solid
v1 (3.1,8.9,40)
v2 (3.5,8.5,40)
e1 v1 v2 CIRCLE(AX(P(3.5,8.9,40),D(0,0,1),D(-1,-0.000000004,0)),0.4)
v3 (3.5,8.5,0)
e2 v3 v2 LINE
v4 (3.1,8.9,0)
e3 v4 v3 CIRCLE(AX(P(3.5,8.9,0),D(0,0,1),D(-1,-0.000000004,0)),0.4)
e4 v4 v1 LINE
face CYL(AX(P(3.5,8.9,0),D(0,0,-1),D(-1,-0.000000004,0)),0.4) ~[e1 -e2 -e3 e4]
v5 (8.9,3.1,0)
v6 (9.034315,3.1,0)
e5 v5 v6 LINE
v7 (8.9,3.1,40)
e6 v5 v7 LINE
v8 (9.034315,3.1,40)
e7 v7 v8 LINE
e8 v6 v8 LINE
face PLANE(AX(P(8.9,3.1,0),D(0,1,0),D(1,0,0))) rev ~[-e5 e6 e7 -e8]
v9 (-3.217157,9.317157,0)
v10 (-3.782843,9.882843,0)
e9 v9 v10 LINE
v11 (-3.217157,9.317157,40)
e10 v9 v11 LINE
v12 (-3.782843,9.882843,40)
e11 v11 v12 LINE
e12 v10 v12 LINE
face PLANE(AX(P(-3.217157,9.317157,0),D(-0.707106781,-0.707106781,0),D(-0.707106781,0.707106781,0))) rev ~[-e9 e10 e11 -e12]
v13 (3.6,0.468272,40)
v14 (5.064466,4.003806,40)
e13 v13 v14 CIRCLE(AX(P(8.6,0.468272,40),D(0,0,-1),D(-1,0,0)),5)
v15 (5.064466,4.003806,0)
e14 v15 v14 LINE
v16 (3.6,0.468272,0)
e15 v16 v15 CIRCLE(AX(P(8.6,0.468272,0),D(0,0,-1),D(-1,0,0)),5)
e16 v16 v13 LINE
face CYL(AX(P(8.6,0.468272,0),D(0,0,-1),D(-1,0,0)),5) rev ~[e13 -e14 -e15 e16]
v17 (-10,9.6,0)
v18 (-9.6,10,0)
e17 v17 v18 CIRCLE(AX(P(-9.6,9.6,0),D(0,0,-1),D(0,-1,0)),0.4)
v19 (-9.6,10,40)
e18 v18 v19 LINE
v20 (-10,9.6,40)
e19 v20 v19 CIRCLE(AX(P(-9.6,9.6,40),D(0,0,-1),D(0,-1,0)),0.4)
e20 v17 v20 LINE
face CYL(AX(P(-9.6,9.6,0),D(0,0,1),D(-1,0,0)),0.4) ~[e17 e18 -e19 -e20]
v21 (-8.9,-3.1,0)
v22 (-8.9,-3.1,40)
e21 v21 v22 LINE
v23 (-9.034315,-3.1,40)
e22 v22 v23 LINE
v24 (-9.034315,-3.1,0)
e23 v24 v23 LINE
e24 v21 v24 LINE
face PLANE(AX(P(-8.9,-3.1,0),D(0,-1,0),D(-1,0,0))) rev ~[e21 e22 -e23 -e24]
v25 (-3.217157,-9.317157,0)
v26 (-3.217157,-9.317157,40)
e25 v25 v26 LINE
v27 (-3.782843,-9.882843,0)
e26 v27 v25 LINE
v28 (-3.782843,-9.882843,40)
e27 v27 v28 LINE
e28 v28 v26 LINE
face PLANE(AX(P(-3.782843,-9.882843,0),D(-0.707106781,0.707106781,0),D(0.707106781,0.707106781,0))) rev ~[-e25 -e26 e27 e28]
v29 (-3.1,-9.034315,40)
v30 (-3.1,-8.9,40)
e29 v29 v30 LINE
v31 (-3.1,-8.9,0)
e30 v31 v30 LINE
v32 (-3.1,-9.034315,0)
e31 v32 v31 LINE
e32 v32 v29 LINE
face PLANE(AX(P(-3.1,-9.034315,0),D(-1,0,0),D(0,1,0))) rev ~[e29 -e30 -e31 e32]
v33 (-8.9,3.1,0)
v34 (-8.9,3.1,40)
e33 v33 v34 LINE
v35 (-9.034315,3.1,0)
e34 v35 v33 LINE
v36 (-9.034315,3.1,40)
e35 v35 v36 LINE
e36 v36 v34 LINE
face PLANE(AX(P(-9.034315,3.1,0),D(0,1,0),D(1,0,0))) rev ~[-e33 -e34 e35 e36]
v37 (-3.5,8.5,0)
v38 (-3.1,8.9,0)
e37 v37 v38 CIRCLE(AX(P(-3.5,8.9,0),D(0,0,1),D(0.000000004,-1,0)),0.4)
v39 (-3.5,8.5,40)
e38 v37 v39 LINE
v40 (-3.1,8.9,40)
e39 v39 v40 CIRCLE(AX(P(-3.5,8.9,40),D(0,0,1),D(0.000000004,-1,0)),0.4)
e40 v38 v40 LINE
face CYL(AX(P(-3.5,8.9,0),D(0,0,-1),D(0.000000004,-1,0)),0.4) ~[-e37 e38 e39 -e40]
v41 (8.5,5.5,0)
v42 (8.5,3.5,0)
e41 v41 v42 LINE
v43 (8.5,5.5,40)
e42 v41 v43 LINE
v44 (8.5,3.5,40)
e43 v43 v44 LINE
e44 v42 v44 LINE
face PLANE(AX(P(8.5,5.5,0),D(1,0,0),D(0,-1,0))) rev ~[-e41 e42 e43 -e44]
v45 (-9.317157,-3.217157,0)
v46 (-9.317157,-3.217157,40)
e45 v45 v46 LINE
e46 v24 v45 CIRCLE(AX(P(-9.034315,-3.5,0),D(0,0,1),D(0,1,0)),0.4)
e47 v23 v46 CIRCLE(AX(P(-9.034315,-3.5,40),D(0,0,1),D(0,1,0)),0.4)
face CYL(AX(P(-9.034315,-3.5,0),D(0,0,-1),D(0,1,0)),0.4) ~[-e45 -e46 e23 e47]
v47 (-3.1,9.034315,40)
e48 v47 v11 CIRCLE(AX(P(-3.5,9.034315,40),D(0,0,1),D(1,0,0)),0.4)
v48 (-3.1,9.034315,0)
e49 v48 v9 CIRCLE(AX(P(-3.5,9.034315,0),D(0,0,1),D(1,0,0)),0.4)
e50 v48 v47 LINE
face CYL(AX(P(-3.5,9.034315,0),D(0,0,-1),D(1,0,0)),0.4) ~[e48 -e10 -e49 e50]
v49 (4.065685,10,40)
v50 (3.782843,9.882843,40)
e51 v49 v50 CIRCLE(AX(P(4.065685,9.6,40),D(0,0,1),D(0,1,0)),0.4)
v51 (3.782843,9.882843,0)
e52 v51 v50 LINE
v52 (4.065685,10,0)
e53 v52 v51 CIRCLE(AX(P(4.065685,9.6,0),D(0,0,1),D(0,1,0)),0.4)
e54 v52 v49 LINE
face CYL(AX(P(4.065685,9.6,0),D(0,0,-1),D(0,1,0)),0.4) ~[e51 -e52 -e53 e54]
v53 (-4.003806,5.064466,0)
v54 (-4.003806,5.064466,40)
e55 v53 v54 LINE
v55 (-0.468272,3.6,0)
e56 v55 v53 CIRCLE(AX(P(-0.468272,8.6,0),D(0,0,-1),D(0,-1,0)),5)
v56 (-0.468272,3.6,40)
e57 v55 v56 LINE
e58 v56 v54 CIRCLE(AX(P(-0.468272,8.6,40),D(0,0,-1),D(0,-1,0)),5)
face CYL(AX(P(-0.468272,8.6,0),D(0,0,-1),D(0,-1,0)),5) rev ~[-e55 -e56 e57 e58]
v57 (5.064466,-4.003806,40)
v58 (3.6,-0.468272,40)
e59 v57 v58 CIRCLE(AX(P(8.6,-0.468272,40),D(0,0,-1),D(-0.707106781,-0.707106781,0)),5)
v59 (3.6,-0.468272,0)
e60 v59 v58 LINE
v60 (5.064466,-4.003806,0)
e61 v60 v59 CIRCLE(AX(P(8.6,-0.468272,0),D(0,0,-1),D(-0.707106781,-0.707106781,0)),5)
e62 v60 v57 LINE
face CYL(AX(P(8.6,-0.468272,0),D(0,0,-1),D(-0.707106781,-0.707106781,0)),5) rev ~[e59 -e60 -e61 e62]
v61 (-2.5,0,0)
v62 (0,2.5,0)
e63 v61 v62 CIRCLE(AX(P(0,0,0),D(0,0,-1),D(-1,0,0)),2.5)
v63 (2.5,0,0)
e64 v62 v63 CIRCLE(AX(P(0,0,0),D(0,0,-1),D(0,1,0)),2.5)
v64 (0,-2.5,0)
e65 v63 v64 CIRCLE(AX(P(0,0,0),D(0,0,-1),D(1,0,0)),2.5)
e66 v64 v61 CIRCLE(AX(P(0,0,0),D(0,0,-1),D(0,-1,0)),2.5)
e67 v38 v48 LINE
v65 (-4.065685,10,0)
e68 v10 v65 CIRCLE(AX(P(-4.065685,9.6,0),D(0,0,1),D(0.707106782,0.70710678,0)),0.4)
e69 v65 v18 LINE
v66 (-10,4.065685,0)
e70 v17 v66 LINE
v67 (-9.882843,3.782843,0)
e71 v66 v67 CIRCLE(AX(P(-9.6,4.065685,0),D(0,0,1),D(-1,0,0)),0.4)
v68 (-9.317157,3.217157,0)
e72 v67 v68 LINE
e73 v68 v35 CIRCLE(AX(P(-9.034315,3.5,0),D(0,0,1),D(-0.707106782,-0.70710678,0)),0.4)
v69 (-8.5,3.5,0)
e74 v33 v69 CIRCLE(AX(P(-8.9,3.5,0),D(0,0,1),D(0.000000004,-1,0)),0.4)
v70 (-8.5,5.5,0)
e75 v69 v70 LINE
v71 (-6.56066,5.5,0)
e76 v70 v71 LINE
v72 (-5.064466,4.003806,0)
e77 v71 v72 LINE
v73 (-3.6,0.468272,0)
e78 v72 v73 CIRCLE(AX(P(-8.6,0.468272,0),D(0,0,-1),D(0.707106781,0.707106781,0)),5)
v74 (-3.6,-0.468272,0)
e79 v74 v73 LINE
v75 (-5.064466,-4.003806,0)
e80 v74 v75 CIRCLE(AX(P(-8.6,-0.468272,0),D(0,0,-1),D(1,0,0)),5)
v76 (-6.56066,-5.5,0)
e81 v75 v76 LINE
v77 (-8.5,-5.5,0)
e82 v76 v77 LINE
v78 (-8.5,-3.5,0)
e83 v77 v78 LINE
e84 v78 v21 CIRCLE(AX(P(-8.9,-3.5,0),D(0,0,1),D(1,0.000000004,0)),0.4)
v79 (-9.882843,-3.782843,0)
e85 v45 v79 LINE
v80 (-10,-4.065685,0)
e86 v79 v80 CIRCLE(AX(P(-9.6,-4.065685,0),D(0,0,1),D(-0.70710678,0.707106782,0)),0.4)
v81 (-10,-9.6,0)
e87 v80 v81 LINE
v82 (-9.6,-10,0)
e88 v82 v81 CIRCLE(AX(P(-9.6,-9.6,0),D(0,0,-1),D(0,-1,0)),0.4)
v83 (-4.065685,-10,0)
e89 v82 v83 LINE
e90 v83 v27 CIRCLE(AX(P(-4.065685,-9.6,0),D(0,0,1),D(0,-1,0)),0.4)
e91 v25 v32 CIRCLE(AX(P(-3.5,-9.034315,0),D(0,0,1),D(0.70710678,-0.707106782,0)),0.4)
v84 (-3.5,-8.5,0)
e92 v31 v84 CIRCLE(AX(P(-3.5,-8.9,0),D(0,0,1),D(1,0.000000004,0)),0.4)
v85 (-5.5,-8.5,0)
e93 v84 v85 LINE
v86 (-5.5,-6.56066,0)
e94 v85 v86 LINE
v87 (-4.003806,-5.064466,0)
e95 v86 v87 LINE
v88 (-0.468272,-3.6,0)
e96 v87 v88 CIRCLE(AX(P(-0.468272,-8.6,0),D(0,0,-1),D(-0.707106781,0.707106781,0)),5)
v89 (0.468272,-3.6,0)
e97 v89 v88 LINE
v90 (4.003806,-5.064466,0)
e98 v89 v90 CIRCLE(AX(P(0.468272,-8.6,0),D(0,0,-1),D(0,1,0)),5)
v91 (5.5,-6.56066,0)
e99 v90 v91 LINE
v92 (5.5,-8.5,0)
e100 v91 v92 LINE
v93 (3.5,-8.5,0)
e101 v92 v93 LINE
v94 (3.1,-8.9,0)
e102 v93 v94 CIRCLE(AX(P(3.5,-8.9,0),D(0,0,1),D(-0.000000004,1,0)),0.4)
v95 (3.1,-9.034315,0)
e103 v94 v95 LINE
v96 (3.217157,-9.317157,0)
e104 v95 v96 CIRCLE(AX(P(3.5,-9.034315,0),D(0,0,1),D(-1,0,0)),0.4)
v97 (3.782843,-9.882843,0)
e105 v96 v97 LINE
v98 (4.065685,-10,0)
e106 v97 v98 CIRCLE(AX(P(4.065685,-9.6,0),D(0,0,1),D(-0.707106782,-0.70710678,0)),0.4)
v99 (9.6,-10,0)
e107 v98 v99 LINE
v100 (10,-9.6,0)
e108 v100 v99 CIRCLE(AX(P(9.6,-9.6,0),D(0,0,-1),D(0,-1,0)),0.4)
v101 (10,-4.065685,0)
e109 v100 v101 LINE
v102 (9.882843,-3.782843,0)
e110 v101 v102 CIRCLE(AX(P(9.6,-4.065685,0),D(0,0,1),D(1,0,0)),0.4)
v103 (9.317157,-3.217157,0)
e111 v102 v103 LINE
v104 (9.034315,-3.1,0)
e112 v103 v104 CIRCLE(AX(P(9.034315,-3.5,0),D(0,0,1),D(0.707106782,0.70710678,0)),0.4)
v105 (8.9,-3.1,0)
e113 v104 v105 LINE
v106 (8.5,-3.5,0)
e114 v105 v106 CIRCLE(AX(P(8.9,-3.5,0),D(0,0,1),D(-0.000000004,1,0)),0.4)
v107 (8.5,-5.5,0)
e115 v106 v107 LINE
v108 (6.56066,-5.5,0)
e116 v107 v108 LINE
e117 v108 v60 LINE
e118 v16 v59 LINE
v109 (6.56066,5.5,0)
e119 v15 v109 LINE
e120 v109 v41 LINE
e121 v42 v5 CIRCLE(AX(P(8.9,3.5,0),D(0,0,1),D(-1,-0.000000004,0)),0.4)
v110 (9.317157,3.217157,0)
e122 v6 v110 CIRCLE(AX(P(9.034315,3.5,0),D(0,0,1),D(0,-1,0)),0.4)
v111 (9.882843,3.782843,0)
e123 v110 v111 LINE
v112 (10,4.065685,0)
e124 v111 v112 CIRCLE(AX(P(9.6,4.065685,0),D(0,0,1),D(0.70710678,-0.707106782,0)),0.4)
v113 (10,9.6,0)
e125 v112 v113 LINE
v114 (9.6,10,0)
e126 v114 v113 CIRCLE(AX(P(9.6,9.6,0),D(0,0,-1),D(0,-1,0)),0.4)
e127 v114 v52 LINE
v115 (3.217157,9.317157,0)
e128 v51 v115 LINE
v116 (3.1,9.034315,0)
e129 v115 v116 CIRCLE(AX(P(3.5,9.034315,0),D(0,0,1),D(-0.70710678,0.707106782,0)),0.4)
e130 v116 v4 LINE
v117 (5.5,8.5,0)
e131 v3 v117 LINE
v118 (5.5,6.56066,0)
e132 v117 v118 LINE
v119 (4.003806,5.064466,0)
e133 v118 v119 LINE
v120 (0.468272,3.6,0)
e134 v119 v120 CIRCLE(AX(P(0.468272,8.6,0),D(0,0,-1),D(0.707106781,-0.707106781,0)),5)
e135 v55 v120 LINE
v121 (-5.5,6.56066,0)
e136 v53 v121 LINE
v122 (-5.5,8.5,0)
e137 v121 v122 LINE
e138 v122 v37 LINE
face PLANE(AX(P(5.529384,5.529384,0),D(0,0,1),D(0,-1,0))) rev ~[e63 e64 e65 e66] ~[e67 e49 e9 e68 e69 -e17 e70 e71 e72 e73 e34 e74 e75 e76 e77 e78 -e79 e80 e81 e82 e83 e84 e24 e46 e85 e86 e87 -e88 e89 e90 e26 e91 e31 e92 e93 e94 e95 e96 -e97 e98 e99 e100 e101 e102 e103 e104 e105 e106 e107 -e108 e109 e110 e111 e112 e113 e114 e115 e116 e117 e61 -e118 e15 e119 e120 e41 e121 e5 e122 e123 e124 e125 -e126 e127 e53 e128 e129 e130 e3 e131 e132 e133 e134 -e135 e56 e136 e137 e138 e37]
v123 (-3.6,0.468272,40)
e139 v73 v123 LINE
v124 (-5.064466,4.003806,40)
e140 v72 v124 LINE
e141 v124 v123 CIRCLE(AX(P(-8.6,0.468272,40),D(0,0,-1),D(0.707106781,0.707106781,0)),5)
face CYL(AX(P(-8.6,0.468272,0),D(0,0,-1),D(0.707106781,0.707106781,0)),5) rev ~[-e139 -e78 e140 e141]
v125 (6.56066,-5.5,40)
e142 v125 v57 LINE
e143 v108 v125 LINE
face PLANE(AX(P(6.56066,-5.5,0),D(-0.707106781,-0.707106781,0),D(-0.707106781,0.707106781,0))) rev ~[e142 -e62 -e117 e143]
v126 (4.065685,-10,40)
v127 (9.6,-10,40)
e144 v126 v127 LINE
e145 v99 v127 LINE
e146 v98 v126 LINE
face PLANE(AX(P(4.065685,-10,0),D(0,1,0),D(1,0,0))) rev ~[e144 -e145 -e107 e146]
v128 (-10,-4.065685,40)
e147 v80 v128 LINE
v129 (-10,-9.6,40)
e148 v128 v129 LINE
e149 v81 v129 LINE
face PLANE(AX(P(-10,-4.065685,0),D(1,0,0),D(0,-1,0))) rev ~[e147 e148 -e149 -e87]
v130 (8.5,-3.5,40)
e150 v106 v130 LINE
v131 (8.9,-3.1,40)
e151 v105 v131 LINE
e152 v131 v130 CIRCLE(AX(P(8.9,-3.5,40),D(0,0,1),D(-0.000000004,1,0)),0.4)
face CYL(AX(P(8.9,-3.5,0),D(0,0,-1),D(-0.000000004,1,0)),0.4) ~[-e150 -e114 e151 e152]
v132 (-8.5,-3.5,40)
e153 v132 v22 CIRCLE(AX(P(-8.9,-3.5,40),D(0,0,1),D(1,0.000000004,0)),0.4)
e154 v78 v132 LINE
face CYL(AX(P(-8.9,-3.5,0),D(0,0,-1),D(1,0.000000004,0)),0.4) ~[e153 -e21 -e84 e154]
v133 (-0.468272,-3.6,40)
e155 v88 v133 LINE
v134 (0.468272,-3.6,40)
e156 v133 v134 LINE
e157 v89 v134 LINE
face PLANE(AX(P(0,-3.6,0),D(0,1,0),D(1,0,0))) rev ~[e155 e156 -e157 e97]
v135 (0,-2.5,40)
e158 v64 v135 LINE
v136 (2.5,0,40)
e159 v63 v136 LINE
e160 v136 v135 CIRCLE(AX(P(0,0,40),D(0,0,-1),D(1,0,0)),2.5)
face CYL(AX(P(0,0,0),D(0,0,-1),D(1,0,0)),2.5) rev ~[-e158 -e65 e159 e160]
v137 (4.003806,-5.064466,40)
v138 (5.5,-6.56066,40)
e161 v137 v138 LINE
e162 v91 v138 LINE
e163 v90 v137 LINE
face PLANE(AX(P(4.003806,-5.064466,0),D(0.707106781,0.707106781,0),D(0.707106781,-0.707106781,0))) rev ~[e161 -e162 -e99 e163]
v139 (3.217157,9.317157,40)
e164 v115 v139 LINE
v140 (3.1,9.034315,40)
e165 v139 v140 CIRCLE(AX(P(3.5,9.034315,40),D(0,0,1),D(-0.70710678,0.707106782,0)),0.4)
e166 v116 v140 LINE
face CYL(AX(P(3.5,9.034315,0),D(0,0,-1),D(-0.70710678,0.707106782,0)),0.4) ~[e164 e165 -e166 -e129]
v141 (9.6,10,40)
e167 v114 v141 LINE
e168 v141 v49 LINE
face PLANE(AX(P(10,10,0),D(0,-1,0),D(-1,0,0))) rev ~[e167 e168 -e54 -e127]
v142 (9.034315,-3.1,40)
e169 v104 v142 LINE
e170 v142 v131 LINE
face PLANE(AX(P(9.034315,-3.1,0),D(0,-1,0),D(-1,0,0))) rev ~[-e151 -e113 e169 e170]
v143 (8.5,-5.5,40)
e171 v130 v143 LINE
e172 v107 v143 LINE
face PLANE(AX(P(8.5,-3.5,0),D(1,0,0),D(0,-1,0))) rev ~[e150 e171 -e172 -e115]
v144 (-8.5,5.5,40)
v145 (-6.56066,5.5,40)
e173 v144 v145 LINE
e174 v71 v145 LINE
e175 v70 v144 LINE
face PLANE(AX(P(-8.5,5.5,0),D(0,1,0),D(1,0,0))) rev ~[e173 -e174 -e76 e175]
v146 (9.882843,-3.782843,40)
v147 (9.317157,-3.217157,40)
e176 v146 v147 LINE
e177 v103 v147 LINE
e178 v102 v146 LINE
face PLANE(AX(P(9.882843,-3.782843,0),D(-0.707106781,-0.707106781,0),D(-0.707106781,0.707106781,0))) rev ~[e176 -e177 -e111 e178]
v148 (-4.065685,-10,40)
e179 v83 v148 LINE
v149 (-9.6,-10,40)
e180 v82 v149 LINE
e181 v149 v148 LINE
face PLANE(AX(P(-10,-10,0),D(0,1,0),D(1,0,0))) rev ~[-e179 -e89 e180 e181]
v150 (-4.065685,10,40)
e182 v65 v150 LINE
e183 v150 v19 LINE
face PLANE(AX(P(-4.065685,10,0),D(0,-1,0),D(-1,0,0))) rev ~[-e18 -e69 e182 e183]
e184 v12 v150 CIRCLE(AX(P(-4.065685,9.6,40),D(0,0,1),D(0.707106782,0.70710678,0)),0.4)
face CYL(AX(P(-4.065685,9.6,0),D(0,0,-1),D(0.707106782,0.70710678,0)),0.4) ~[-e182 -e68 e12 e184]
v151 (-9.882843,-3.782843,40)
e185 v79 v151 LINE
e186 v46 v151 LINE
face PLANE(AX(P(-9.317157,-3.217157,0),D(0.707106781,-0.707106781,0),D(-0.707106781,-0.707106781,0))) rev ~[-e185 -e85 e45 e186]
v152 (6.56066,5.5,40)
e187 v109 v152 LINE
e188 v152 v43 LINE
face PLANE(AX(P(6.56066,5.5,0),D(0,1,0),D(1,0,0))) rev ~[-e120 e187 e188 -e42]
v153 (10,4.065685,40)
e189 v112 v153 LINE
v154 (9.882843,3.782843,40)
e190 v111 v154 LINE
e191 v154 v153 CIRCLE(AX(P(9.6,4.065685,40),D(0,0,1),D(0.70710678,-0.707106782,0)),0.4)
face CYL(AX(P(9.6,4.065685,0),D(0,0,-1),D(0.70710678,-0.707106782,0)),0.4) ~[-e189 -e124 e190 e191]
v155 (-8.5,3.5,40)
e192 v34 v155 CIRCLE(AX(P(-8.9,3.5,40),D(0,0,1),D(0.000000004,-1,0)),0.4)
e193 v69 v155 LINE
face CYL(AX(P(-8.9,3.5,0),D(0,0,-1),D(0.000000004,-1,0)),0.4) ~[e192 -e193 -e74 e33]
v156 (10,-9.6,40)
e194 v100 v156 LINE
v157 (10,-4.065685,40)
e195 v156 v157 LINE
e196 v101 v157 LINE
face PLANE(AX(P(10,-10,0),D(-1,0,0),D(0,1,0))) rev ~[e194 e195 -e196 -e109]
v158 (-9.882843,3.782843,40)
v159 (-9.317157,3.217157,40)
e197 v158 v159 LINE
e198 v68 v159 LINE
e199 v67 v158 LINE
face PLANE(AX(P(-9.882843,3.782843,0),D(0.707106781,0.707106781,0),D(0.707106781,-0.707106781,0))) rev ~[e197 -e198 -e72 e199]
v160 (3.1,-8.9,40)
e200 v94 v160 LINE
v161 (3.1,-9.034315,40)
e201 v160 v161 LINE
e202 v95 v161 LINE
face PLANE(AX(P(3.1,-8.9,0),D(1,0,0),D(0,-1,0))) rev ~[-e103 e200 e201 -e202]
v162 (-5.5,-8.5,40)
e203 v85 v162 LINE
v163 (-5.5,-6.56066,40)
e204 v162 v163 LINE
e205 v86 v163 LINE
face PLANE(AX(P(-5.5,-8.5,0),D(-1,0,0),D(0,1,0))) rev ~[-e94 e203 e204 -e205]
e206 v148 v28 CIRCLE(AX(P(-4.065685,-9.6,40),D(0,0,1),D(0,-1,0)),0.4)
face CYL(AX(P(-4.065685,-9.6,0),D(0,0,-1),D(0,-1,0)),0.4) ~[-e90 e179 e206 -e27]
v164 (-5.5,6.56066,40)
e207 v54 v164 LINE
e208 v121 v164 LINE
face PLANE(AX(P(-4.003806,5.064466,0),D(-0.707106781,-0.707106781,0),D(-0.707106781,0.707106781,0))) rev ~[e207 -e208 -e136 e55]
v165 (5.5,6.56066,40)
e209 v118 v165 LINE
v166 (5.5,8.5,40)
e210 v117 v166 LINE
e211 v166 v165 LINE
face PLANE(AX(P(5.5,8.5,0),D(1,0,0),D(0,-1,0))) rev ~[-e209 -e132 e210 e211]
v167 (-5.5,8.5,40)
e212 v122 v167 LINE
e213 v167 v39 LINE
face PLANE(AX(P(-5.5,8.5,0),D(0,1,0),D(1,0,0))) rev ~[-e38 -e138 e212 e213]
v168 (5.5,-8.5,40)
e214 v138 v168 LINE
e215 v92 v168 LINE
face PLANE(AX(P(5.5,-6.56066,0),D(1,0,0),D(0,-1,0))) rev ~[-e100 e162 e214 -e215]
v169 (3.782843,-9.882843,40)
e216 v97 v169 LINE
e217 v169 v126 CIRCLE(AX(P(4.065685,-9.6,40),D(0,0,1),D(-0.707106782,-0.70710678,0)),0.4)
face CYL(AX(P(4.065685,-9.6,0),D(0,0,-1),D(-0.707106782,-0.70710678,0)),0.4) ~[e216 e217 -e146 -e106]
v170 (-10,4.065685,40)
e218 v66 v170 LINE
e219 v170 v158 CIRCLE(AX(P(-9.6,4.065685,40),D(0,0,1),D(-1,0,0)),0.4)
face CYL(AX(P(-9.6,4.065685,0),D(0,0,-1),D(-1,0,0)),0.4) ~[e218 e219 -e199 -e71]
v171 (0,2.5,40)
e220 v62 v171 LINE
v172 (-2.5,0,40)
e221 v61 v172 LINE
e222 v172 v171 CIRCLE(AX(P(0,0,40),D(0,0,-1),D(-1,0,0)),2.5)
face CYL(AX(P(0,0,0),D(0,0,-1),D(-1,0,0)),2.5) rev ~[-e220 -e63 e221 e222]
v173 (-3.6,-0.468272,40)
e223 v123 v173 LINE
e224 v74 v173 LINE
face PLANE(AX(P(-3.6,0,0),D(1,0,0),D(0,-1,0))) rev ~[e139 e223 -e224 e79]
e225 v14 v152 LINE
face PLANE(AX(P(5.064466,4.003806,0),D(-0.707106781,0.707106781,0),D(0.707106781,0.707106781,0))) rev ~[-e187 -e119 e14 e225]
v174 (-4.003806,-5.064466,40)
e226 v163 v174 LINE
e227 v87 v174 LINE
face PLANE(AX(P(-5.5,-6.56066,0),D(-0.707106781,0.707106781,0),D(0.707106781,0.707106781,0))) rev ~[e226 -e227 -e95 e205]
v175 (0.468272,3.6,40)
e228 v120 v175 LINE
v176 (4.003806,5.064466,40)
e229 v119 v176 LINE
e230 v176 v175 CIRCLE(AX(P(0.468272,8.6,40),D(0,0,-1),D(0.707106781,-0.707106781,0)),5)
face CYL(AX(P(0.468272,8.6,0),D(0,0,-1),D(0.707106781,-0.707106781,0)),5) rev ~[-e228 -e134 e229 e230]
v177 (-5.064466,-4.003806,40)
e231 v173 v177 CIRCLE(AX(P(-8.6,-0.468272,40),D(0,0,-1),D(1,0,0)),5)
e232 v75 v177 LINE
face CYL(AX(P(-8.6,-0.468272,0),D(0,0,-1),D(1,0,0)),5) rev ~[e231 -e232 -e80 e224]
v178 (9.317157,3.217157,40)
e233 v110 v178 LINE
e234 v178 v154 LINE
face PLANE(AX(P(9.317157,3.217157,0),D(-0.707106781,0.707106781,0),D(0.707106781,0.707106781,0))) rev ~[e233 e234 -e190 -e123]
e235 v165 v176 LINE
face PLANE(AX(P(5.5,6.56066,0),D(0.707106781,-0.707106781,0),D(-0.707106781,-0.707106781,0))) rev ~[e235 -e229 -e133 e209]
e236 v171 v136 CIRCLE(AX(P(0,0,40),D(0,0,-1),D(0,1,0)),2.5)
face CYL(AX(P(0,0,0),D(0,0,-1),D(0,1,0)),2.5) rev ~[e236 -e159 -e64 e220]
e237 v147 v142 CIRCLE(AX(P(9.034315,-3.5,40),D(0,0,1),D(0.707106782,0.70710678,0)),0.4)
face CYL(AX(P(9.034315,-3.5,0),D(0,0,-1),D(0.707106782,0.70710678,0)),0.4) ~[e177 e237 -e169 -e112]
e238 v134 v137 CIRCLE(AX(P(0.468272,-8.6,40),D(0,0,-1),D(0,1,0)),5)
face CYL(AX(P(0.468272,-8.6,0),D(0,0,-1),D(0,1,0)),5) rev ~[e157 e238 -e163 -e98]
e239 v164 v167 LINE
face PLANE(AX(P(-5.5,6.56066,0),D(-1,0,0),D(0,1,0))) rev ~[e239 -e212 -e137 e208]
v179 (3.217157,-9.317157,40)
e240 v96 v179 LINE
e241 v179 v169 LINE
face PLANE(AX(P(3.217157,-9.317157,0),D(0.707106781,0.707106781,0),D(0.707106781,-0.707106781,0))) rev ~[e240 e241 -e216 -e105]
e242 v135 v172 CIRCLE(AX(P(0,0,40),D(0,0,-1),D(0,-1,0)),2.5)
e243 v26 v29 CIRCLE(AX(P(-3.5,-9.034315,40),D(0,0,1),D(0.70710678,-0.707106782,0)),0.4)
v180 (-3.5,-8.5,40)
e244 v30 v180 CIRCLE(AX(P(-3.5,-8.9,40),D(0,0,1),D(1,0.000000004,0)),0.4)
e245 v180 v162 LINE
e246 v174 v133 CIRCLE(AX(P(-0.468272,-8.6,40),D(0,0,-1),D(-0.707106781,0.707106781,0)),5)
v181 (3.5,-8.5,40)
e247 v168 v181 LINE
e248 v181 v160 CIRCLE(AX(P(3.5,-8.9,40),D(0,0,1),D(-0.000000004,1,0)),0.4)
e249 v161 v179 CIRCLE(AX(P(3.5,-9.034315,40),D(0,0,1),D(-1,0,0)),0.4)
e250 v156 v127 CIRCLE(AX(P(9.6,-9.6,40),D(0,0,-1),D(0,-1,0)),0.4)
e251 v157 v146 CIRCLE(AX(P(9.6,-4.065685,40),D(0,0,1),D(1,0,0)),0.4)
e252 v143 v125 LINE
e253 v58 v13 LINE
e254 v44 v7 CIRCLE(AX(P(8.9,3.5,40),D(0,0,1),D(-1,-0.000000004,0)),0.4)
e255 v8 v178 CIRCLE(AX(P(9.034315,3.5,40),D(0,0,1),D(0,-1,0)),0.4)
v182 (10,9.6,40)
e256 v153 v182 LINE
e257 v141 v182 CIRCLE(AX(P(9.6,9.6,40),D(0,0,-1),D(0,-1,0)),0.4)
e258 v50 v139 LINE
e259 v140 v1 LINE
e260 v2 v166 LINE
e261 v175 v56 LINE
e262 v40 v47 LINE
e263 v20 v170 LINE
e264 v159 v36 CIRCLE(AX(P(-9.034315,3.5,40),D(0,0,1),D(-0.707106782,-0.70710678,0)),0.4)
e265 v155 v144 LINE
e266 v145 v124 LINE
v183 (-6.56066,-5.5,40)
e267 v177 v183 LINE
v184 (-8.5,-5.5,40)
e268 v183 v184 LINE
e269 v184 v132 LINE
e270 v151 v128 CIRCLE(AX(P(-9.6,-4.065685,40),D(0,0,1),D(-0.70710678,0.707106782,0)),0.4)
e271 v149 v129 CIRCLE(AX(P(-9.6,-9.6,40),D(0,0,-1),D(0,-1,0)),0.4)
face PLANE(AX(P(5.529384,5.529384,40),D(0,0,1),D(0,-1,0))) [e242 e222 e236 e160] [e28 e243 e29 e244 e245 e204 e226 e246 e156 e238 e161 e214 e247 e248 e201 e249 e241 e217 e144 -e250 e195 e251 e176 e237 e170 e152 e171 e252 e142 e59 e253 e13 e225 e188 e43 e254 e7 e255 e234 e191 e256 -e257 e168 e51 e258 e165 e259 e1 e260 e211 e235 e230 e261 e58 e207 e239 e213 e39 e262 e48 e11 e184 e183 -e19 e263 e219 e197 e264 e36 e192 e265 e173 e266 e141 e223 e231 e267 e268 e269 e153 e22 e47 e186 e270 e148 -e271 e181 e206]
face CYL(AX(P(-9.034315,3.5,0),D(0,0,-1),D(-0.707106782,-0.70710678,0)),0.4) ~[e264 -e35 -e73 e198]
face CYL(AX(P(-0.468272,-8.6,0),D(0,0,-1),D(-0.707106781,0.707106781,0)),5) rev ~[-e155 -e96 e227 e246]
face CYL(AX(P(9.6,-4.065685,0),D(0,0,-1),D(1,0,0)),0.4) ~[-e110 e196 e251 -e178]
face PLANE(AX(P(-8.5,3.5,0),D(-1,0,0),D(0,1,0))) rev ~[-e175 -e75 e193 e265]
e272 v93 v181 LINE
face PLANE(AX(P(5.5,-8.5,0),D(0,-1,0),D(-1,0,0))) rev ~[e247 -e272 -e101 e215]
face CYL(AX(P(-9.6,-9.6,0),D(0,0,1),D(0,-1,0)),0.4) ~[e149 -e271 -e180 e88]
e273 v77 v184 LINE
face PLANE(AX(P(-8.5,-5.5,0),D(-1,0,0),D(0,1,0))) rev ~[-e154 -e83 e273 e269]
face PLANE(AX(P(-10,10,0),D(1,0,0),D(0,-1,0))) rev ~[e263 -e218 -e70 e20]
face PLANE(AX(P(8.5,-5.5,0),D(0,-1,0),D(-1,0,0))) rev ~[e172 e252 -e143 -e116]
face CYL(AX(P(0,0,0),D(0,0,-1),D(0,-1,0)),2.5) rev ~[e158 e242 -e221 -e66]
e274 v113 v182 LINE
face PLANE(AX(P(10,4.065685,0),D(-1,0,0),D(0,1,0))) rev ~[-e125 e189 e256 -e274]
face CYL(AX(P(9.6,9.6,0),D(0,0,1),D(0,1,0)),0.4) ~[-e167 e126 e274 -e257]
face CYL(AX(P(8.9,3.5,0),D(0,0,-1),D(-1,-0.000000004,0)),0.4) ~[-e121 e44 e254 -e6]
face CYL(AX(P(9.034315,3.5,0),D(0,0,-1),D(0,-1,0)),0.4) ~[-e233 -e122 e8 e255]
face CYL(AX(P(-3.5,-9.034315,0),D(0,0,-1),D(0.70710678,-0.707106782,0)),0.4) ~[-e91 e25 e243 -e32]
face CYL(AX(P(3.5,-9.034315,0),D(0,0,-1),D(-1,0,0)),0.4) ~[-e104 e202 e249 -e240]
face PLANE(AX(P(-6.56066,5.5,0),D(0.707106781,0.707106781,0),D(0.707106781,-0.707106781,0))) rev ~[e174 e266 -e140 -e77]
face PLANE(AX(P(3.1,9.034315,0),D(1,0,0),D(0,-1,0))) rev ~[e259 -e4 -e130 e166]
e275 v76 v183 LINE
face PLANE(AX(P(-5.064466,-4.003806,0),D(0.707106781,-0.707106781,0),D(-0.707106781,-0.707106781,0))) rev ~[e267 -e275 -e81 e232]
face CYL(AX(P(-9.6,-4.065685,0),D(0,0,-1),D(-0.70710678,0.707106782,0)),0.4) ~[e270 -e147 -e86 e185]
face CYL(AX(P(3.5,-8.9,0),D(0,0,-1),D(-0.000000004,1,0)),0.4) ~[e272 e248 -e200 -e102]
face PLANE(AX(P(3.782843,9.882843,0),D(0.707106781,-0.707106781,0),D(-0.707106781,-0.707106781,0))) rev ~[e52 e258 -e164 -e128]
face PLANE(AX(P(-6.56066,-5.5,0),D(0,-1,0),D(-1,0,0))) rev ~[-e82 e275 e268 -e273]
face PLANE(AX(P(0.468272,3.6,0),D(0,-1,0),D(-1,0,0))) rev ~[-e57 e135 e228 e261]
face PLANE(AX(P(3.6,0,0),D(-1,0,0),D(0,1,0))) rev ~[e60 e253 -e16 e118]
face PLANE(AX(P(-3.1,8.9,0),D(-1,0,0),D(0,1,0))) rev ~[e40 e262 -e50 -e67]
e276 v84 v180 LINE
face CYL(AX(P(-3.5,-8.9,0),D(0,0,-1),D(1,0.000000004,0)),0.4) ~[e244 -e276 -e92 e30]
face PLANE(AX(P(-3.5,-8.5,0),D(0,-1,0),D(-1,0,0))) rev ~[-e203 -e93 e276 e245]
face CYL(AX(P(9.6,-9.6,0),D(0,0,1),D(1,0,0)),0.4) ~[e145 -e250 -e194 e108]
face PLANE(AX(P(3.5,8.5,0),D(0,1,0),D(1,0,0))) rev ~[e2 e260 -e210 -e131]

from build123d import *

# Parameters (mm, degrees)
RESSALTO_EXTRUS_O1_DEPTH = 40
PADR_OCIRCULAR1_COUNT    = 4
FILETE1_R                = 0.4


with BuildPart() as part:
    # Esboço1 → Ressalto-extrusão1 (new body)
    with BuildSketch(Plane.XY):
        with BuildLine():
            ThreePointArc((-9.317157288, 3.217157288), (-9.187387948, 3.130448187), (-9.034314575, 3.1))
            Line((-9.034314575, 3.1), (-8.9, 3.1))
            ThreePointArc((-8.9, 3.1), (-8.617157288, 3.217157288), (-8.5, 3.5))
            Line((-8.5, 3.5), (-8.5, 5.5))
            Line((-8.5, 5.5), (-6.560660172, 5.5))
            Line((-6.560660172, 5.5), (-5.064466094, 4.003805922))
            ThreePointArc((-5.064466094, 4.003805922), (-3.980602337, 2.381689178), (-3.6, 0.468272016))
            Line((-3.6, 0.468272016), (-3.6, 0))
            Line((-3.6, 0), (-2.5, 0))
            ThreePointArc((-2.5, 0), (-1.767766953, 1.767766953), (0, 2.5))
            Line((0, 2.5), (0, 3.6))
            Line((0, 3.6), (-0.468272016, 3.6))
            ThreePointArc((-0.468272016, 3.6), (-2.381689178, 3.980602337), (-4.003805922, 5.064466094))
            Line((-4.003805922, 5.064466094), (-5.5, 6.560660172))
            Line((-5.5, 6.560660172), (-5.5, 8.5))
            Line((-5.5, 8.5), (-3.5, 8.5))
            ThreePointArc((-3.5, 8.5), (-3.217157288, 8.617157288), (-3.1, 8.9))
            Line((-3.1, 8.9), (-3.1, 9.034314575))
            ThreePointArc((-3.1, 9.034314575), (-3.130448187, 9.187387948), (-3.217157288, 9.317157288))
            Line((-3.217157288, 9.317157288), (-3.782842712, 9.882842712))
            ThreePointArc((-3.782842712, 9.882842712), (-3.912612052, 9.969551813), (-4.065685425, 10))
            Line((-4.065685425, 10), (-10, 10))
            Line((-10, 10), (-10, 4.065685425))
            ThreePointArc((-10, 4.065685425), (-9.969551813, 3.912612052), (-9.882842712, 3.782842712))
            Line((-9.882842712, 3.782842712), (-9.317157288, 3.217157288))
        make_face()
    ressalto_extrus_o1 = extrude(amount=RESSALTO_EXTRUS_O1_DEPTH)

    # PadrãoCircular1: Ressalto-extrusão1 ×4 about axis
    padr_ocircular1_axis = Axis((0, 0, 0), (0, 0, 1))
    for i in range(1, PADR_OCIRCULAR1_COUNT):
        add(ressalto_extrus_o1.rotate(padr_ocircular1_axis, i * 360 / PADR_OCIRCULAR1_COUNT))

    # Filete1
    filete1_edges = [part.edges().sort_by_distance(p)[0] for p in [
        (10, -10, 20),
        (10, 10, 20),
        (-10, 10, 20),
        (-10, -10, 20),
    ]]
    fillet(filete1_edges, radius=FILETE1_R)


solid = part.part
